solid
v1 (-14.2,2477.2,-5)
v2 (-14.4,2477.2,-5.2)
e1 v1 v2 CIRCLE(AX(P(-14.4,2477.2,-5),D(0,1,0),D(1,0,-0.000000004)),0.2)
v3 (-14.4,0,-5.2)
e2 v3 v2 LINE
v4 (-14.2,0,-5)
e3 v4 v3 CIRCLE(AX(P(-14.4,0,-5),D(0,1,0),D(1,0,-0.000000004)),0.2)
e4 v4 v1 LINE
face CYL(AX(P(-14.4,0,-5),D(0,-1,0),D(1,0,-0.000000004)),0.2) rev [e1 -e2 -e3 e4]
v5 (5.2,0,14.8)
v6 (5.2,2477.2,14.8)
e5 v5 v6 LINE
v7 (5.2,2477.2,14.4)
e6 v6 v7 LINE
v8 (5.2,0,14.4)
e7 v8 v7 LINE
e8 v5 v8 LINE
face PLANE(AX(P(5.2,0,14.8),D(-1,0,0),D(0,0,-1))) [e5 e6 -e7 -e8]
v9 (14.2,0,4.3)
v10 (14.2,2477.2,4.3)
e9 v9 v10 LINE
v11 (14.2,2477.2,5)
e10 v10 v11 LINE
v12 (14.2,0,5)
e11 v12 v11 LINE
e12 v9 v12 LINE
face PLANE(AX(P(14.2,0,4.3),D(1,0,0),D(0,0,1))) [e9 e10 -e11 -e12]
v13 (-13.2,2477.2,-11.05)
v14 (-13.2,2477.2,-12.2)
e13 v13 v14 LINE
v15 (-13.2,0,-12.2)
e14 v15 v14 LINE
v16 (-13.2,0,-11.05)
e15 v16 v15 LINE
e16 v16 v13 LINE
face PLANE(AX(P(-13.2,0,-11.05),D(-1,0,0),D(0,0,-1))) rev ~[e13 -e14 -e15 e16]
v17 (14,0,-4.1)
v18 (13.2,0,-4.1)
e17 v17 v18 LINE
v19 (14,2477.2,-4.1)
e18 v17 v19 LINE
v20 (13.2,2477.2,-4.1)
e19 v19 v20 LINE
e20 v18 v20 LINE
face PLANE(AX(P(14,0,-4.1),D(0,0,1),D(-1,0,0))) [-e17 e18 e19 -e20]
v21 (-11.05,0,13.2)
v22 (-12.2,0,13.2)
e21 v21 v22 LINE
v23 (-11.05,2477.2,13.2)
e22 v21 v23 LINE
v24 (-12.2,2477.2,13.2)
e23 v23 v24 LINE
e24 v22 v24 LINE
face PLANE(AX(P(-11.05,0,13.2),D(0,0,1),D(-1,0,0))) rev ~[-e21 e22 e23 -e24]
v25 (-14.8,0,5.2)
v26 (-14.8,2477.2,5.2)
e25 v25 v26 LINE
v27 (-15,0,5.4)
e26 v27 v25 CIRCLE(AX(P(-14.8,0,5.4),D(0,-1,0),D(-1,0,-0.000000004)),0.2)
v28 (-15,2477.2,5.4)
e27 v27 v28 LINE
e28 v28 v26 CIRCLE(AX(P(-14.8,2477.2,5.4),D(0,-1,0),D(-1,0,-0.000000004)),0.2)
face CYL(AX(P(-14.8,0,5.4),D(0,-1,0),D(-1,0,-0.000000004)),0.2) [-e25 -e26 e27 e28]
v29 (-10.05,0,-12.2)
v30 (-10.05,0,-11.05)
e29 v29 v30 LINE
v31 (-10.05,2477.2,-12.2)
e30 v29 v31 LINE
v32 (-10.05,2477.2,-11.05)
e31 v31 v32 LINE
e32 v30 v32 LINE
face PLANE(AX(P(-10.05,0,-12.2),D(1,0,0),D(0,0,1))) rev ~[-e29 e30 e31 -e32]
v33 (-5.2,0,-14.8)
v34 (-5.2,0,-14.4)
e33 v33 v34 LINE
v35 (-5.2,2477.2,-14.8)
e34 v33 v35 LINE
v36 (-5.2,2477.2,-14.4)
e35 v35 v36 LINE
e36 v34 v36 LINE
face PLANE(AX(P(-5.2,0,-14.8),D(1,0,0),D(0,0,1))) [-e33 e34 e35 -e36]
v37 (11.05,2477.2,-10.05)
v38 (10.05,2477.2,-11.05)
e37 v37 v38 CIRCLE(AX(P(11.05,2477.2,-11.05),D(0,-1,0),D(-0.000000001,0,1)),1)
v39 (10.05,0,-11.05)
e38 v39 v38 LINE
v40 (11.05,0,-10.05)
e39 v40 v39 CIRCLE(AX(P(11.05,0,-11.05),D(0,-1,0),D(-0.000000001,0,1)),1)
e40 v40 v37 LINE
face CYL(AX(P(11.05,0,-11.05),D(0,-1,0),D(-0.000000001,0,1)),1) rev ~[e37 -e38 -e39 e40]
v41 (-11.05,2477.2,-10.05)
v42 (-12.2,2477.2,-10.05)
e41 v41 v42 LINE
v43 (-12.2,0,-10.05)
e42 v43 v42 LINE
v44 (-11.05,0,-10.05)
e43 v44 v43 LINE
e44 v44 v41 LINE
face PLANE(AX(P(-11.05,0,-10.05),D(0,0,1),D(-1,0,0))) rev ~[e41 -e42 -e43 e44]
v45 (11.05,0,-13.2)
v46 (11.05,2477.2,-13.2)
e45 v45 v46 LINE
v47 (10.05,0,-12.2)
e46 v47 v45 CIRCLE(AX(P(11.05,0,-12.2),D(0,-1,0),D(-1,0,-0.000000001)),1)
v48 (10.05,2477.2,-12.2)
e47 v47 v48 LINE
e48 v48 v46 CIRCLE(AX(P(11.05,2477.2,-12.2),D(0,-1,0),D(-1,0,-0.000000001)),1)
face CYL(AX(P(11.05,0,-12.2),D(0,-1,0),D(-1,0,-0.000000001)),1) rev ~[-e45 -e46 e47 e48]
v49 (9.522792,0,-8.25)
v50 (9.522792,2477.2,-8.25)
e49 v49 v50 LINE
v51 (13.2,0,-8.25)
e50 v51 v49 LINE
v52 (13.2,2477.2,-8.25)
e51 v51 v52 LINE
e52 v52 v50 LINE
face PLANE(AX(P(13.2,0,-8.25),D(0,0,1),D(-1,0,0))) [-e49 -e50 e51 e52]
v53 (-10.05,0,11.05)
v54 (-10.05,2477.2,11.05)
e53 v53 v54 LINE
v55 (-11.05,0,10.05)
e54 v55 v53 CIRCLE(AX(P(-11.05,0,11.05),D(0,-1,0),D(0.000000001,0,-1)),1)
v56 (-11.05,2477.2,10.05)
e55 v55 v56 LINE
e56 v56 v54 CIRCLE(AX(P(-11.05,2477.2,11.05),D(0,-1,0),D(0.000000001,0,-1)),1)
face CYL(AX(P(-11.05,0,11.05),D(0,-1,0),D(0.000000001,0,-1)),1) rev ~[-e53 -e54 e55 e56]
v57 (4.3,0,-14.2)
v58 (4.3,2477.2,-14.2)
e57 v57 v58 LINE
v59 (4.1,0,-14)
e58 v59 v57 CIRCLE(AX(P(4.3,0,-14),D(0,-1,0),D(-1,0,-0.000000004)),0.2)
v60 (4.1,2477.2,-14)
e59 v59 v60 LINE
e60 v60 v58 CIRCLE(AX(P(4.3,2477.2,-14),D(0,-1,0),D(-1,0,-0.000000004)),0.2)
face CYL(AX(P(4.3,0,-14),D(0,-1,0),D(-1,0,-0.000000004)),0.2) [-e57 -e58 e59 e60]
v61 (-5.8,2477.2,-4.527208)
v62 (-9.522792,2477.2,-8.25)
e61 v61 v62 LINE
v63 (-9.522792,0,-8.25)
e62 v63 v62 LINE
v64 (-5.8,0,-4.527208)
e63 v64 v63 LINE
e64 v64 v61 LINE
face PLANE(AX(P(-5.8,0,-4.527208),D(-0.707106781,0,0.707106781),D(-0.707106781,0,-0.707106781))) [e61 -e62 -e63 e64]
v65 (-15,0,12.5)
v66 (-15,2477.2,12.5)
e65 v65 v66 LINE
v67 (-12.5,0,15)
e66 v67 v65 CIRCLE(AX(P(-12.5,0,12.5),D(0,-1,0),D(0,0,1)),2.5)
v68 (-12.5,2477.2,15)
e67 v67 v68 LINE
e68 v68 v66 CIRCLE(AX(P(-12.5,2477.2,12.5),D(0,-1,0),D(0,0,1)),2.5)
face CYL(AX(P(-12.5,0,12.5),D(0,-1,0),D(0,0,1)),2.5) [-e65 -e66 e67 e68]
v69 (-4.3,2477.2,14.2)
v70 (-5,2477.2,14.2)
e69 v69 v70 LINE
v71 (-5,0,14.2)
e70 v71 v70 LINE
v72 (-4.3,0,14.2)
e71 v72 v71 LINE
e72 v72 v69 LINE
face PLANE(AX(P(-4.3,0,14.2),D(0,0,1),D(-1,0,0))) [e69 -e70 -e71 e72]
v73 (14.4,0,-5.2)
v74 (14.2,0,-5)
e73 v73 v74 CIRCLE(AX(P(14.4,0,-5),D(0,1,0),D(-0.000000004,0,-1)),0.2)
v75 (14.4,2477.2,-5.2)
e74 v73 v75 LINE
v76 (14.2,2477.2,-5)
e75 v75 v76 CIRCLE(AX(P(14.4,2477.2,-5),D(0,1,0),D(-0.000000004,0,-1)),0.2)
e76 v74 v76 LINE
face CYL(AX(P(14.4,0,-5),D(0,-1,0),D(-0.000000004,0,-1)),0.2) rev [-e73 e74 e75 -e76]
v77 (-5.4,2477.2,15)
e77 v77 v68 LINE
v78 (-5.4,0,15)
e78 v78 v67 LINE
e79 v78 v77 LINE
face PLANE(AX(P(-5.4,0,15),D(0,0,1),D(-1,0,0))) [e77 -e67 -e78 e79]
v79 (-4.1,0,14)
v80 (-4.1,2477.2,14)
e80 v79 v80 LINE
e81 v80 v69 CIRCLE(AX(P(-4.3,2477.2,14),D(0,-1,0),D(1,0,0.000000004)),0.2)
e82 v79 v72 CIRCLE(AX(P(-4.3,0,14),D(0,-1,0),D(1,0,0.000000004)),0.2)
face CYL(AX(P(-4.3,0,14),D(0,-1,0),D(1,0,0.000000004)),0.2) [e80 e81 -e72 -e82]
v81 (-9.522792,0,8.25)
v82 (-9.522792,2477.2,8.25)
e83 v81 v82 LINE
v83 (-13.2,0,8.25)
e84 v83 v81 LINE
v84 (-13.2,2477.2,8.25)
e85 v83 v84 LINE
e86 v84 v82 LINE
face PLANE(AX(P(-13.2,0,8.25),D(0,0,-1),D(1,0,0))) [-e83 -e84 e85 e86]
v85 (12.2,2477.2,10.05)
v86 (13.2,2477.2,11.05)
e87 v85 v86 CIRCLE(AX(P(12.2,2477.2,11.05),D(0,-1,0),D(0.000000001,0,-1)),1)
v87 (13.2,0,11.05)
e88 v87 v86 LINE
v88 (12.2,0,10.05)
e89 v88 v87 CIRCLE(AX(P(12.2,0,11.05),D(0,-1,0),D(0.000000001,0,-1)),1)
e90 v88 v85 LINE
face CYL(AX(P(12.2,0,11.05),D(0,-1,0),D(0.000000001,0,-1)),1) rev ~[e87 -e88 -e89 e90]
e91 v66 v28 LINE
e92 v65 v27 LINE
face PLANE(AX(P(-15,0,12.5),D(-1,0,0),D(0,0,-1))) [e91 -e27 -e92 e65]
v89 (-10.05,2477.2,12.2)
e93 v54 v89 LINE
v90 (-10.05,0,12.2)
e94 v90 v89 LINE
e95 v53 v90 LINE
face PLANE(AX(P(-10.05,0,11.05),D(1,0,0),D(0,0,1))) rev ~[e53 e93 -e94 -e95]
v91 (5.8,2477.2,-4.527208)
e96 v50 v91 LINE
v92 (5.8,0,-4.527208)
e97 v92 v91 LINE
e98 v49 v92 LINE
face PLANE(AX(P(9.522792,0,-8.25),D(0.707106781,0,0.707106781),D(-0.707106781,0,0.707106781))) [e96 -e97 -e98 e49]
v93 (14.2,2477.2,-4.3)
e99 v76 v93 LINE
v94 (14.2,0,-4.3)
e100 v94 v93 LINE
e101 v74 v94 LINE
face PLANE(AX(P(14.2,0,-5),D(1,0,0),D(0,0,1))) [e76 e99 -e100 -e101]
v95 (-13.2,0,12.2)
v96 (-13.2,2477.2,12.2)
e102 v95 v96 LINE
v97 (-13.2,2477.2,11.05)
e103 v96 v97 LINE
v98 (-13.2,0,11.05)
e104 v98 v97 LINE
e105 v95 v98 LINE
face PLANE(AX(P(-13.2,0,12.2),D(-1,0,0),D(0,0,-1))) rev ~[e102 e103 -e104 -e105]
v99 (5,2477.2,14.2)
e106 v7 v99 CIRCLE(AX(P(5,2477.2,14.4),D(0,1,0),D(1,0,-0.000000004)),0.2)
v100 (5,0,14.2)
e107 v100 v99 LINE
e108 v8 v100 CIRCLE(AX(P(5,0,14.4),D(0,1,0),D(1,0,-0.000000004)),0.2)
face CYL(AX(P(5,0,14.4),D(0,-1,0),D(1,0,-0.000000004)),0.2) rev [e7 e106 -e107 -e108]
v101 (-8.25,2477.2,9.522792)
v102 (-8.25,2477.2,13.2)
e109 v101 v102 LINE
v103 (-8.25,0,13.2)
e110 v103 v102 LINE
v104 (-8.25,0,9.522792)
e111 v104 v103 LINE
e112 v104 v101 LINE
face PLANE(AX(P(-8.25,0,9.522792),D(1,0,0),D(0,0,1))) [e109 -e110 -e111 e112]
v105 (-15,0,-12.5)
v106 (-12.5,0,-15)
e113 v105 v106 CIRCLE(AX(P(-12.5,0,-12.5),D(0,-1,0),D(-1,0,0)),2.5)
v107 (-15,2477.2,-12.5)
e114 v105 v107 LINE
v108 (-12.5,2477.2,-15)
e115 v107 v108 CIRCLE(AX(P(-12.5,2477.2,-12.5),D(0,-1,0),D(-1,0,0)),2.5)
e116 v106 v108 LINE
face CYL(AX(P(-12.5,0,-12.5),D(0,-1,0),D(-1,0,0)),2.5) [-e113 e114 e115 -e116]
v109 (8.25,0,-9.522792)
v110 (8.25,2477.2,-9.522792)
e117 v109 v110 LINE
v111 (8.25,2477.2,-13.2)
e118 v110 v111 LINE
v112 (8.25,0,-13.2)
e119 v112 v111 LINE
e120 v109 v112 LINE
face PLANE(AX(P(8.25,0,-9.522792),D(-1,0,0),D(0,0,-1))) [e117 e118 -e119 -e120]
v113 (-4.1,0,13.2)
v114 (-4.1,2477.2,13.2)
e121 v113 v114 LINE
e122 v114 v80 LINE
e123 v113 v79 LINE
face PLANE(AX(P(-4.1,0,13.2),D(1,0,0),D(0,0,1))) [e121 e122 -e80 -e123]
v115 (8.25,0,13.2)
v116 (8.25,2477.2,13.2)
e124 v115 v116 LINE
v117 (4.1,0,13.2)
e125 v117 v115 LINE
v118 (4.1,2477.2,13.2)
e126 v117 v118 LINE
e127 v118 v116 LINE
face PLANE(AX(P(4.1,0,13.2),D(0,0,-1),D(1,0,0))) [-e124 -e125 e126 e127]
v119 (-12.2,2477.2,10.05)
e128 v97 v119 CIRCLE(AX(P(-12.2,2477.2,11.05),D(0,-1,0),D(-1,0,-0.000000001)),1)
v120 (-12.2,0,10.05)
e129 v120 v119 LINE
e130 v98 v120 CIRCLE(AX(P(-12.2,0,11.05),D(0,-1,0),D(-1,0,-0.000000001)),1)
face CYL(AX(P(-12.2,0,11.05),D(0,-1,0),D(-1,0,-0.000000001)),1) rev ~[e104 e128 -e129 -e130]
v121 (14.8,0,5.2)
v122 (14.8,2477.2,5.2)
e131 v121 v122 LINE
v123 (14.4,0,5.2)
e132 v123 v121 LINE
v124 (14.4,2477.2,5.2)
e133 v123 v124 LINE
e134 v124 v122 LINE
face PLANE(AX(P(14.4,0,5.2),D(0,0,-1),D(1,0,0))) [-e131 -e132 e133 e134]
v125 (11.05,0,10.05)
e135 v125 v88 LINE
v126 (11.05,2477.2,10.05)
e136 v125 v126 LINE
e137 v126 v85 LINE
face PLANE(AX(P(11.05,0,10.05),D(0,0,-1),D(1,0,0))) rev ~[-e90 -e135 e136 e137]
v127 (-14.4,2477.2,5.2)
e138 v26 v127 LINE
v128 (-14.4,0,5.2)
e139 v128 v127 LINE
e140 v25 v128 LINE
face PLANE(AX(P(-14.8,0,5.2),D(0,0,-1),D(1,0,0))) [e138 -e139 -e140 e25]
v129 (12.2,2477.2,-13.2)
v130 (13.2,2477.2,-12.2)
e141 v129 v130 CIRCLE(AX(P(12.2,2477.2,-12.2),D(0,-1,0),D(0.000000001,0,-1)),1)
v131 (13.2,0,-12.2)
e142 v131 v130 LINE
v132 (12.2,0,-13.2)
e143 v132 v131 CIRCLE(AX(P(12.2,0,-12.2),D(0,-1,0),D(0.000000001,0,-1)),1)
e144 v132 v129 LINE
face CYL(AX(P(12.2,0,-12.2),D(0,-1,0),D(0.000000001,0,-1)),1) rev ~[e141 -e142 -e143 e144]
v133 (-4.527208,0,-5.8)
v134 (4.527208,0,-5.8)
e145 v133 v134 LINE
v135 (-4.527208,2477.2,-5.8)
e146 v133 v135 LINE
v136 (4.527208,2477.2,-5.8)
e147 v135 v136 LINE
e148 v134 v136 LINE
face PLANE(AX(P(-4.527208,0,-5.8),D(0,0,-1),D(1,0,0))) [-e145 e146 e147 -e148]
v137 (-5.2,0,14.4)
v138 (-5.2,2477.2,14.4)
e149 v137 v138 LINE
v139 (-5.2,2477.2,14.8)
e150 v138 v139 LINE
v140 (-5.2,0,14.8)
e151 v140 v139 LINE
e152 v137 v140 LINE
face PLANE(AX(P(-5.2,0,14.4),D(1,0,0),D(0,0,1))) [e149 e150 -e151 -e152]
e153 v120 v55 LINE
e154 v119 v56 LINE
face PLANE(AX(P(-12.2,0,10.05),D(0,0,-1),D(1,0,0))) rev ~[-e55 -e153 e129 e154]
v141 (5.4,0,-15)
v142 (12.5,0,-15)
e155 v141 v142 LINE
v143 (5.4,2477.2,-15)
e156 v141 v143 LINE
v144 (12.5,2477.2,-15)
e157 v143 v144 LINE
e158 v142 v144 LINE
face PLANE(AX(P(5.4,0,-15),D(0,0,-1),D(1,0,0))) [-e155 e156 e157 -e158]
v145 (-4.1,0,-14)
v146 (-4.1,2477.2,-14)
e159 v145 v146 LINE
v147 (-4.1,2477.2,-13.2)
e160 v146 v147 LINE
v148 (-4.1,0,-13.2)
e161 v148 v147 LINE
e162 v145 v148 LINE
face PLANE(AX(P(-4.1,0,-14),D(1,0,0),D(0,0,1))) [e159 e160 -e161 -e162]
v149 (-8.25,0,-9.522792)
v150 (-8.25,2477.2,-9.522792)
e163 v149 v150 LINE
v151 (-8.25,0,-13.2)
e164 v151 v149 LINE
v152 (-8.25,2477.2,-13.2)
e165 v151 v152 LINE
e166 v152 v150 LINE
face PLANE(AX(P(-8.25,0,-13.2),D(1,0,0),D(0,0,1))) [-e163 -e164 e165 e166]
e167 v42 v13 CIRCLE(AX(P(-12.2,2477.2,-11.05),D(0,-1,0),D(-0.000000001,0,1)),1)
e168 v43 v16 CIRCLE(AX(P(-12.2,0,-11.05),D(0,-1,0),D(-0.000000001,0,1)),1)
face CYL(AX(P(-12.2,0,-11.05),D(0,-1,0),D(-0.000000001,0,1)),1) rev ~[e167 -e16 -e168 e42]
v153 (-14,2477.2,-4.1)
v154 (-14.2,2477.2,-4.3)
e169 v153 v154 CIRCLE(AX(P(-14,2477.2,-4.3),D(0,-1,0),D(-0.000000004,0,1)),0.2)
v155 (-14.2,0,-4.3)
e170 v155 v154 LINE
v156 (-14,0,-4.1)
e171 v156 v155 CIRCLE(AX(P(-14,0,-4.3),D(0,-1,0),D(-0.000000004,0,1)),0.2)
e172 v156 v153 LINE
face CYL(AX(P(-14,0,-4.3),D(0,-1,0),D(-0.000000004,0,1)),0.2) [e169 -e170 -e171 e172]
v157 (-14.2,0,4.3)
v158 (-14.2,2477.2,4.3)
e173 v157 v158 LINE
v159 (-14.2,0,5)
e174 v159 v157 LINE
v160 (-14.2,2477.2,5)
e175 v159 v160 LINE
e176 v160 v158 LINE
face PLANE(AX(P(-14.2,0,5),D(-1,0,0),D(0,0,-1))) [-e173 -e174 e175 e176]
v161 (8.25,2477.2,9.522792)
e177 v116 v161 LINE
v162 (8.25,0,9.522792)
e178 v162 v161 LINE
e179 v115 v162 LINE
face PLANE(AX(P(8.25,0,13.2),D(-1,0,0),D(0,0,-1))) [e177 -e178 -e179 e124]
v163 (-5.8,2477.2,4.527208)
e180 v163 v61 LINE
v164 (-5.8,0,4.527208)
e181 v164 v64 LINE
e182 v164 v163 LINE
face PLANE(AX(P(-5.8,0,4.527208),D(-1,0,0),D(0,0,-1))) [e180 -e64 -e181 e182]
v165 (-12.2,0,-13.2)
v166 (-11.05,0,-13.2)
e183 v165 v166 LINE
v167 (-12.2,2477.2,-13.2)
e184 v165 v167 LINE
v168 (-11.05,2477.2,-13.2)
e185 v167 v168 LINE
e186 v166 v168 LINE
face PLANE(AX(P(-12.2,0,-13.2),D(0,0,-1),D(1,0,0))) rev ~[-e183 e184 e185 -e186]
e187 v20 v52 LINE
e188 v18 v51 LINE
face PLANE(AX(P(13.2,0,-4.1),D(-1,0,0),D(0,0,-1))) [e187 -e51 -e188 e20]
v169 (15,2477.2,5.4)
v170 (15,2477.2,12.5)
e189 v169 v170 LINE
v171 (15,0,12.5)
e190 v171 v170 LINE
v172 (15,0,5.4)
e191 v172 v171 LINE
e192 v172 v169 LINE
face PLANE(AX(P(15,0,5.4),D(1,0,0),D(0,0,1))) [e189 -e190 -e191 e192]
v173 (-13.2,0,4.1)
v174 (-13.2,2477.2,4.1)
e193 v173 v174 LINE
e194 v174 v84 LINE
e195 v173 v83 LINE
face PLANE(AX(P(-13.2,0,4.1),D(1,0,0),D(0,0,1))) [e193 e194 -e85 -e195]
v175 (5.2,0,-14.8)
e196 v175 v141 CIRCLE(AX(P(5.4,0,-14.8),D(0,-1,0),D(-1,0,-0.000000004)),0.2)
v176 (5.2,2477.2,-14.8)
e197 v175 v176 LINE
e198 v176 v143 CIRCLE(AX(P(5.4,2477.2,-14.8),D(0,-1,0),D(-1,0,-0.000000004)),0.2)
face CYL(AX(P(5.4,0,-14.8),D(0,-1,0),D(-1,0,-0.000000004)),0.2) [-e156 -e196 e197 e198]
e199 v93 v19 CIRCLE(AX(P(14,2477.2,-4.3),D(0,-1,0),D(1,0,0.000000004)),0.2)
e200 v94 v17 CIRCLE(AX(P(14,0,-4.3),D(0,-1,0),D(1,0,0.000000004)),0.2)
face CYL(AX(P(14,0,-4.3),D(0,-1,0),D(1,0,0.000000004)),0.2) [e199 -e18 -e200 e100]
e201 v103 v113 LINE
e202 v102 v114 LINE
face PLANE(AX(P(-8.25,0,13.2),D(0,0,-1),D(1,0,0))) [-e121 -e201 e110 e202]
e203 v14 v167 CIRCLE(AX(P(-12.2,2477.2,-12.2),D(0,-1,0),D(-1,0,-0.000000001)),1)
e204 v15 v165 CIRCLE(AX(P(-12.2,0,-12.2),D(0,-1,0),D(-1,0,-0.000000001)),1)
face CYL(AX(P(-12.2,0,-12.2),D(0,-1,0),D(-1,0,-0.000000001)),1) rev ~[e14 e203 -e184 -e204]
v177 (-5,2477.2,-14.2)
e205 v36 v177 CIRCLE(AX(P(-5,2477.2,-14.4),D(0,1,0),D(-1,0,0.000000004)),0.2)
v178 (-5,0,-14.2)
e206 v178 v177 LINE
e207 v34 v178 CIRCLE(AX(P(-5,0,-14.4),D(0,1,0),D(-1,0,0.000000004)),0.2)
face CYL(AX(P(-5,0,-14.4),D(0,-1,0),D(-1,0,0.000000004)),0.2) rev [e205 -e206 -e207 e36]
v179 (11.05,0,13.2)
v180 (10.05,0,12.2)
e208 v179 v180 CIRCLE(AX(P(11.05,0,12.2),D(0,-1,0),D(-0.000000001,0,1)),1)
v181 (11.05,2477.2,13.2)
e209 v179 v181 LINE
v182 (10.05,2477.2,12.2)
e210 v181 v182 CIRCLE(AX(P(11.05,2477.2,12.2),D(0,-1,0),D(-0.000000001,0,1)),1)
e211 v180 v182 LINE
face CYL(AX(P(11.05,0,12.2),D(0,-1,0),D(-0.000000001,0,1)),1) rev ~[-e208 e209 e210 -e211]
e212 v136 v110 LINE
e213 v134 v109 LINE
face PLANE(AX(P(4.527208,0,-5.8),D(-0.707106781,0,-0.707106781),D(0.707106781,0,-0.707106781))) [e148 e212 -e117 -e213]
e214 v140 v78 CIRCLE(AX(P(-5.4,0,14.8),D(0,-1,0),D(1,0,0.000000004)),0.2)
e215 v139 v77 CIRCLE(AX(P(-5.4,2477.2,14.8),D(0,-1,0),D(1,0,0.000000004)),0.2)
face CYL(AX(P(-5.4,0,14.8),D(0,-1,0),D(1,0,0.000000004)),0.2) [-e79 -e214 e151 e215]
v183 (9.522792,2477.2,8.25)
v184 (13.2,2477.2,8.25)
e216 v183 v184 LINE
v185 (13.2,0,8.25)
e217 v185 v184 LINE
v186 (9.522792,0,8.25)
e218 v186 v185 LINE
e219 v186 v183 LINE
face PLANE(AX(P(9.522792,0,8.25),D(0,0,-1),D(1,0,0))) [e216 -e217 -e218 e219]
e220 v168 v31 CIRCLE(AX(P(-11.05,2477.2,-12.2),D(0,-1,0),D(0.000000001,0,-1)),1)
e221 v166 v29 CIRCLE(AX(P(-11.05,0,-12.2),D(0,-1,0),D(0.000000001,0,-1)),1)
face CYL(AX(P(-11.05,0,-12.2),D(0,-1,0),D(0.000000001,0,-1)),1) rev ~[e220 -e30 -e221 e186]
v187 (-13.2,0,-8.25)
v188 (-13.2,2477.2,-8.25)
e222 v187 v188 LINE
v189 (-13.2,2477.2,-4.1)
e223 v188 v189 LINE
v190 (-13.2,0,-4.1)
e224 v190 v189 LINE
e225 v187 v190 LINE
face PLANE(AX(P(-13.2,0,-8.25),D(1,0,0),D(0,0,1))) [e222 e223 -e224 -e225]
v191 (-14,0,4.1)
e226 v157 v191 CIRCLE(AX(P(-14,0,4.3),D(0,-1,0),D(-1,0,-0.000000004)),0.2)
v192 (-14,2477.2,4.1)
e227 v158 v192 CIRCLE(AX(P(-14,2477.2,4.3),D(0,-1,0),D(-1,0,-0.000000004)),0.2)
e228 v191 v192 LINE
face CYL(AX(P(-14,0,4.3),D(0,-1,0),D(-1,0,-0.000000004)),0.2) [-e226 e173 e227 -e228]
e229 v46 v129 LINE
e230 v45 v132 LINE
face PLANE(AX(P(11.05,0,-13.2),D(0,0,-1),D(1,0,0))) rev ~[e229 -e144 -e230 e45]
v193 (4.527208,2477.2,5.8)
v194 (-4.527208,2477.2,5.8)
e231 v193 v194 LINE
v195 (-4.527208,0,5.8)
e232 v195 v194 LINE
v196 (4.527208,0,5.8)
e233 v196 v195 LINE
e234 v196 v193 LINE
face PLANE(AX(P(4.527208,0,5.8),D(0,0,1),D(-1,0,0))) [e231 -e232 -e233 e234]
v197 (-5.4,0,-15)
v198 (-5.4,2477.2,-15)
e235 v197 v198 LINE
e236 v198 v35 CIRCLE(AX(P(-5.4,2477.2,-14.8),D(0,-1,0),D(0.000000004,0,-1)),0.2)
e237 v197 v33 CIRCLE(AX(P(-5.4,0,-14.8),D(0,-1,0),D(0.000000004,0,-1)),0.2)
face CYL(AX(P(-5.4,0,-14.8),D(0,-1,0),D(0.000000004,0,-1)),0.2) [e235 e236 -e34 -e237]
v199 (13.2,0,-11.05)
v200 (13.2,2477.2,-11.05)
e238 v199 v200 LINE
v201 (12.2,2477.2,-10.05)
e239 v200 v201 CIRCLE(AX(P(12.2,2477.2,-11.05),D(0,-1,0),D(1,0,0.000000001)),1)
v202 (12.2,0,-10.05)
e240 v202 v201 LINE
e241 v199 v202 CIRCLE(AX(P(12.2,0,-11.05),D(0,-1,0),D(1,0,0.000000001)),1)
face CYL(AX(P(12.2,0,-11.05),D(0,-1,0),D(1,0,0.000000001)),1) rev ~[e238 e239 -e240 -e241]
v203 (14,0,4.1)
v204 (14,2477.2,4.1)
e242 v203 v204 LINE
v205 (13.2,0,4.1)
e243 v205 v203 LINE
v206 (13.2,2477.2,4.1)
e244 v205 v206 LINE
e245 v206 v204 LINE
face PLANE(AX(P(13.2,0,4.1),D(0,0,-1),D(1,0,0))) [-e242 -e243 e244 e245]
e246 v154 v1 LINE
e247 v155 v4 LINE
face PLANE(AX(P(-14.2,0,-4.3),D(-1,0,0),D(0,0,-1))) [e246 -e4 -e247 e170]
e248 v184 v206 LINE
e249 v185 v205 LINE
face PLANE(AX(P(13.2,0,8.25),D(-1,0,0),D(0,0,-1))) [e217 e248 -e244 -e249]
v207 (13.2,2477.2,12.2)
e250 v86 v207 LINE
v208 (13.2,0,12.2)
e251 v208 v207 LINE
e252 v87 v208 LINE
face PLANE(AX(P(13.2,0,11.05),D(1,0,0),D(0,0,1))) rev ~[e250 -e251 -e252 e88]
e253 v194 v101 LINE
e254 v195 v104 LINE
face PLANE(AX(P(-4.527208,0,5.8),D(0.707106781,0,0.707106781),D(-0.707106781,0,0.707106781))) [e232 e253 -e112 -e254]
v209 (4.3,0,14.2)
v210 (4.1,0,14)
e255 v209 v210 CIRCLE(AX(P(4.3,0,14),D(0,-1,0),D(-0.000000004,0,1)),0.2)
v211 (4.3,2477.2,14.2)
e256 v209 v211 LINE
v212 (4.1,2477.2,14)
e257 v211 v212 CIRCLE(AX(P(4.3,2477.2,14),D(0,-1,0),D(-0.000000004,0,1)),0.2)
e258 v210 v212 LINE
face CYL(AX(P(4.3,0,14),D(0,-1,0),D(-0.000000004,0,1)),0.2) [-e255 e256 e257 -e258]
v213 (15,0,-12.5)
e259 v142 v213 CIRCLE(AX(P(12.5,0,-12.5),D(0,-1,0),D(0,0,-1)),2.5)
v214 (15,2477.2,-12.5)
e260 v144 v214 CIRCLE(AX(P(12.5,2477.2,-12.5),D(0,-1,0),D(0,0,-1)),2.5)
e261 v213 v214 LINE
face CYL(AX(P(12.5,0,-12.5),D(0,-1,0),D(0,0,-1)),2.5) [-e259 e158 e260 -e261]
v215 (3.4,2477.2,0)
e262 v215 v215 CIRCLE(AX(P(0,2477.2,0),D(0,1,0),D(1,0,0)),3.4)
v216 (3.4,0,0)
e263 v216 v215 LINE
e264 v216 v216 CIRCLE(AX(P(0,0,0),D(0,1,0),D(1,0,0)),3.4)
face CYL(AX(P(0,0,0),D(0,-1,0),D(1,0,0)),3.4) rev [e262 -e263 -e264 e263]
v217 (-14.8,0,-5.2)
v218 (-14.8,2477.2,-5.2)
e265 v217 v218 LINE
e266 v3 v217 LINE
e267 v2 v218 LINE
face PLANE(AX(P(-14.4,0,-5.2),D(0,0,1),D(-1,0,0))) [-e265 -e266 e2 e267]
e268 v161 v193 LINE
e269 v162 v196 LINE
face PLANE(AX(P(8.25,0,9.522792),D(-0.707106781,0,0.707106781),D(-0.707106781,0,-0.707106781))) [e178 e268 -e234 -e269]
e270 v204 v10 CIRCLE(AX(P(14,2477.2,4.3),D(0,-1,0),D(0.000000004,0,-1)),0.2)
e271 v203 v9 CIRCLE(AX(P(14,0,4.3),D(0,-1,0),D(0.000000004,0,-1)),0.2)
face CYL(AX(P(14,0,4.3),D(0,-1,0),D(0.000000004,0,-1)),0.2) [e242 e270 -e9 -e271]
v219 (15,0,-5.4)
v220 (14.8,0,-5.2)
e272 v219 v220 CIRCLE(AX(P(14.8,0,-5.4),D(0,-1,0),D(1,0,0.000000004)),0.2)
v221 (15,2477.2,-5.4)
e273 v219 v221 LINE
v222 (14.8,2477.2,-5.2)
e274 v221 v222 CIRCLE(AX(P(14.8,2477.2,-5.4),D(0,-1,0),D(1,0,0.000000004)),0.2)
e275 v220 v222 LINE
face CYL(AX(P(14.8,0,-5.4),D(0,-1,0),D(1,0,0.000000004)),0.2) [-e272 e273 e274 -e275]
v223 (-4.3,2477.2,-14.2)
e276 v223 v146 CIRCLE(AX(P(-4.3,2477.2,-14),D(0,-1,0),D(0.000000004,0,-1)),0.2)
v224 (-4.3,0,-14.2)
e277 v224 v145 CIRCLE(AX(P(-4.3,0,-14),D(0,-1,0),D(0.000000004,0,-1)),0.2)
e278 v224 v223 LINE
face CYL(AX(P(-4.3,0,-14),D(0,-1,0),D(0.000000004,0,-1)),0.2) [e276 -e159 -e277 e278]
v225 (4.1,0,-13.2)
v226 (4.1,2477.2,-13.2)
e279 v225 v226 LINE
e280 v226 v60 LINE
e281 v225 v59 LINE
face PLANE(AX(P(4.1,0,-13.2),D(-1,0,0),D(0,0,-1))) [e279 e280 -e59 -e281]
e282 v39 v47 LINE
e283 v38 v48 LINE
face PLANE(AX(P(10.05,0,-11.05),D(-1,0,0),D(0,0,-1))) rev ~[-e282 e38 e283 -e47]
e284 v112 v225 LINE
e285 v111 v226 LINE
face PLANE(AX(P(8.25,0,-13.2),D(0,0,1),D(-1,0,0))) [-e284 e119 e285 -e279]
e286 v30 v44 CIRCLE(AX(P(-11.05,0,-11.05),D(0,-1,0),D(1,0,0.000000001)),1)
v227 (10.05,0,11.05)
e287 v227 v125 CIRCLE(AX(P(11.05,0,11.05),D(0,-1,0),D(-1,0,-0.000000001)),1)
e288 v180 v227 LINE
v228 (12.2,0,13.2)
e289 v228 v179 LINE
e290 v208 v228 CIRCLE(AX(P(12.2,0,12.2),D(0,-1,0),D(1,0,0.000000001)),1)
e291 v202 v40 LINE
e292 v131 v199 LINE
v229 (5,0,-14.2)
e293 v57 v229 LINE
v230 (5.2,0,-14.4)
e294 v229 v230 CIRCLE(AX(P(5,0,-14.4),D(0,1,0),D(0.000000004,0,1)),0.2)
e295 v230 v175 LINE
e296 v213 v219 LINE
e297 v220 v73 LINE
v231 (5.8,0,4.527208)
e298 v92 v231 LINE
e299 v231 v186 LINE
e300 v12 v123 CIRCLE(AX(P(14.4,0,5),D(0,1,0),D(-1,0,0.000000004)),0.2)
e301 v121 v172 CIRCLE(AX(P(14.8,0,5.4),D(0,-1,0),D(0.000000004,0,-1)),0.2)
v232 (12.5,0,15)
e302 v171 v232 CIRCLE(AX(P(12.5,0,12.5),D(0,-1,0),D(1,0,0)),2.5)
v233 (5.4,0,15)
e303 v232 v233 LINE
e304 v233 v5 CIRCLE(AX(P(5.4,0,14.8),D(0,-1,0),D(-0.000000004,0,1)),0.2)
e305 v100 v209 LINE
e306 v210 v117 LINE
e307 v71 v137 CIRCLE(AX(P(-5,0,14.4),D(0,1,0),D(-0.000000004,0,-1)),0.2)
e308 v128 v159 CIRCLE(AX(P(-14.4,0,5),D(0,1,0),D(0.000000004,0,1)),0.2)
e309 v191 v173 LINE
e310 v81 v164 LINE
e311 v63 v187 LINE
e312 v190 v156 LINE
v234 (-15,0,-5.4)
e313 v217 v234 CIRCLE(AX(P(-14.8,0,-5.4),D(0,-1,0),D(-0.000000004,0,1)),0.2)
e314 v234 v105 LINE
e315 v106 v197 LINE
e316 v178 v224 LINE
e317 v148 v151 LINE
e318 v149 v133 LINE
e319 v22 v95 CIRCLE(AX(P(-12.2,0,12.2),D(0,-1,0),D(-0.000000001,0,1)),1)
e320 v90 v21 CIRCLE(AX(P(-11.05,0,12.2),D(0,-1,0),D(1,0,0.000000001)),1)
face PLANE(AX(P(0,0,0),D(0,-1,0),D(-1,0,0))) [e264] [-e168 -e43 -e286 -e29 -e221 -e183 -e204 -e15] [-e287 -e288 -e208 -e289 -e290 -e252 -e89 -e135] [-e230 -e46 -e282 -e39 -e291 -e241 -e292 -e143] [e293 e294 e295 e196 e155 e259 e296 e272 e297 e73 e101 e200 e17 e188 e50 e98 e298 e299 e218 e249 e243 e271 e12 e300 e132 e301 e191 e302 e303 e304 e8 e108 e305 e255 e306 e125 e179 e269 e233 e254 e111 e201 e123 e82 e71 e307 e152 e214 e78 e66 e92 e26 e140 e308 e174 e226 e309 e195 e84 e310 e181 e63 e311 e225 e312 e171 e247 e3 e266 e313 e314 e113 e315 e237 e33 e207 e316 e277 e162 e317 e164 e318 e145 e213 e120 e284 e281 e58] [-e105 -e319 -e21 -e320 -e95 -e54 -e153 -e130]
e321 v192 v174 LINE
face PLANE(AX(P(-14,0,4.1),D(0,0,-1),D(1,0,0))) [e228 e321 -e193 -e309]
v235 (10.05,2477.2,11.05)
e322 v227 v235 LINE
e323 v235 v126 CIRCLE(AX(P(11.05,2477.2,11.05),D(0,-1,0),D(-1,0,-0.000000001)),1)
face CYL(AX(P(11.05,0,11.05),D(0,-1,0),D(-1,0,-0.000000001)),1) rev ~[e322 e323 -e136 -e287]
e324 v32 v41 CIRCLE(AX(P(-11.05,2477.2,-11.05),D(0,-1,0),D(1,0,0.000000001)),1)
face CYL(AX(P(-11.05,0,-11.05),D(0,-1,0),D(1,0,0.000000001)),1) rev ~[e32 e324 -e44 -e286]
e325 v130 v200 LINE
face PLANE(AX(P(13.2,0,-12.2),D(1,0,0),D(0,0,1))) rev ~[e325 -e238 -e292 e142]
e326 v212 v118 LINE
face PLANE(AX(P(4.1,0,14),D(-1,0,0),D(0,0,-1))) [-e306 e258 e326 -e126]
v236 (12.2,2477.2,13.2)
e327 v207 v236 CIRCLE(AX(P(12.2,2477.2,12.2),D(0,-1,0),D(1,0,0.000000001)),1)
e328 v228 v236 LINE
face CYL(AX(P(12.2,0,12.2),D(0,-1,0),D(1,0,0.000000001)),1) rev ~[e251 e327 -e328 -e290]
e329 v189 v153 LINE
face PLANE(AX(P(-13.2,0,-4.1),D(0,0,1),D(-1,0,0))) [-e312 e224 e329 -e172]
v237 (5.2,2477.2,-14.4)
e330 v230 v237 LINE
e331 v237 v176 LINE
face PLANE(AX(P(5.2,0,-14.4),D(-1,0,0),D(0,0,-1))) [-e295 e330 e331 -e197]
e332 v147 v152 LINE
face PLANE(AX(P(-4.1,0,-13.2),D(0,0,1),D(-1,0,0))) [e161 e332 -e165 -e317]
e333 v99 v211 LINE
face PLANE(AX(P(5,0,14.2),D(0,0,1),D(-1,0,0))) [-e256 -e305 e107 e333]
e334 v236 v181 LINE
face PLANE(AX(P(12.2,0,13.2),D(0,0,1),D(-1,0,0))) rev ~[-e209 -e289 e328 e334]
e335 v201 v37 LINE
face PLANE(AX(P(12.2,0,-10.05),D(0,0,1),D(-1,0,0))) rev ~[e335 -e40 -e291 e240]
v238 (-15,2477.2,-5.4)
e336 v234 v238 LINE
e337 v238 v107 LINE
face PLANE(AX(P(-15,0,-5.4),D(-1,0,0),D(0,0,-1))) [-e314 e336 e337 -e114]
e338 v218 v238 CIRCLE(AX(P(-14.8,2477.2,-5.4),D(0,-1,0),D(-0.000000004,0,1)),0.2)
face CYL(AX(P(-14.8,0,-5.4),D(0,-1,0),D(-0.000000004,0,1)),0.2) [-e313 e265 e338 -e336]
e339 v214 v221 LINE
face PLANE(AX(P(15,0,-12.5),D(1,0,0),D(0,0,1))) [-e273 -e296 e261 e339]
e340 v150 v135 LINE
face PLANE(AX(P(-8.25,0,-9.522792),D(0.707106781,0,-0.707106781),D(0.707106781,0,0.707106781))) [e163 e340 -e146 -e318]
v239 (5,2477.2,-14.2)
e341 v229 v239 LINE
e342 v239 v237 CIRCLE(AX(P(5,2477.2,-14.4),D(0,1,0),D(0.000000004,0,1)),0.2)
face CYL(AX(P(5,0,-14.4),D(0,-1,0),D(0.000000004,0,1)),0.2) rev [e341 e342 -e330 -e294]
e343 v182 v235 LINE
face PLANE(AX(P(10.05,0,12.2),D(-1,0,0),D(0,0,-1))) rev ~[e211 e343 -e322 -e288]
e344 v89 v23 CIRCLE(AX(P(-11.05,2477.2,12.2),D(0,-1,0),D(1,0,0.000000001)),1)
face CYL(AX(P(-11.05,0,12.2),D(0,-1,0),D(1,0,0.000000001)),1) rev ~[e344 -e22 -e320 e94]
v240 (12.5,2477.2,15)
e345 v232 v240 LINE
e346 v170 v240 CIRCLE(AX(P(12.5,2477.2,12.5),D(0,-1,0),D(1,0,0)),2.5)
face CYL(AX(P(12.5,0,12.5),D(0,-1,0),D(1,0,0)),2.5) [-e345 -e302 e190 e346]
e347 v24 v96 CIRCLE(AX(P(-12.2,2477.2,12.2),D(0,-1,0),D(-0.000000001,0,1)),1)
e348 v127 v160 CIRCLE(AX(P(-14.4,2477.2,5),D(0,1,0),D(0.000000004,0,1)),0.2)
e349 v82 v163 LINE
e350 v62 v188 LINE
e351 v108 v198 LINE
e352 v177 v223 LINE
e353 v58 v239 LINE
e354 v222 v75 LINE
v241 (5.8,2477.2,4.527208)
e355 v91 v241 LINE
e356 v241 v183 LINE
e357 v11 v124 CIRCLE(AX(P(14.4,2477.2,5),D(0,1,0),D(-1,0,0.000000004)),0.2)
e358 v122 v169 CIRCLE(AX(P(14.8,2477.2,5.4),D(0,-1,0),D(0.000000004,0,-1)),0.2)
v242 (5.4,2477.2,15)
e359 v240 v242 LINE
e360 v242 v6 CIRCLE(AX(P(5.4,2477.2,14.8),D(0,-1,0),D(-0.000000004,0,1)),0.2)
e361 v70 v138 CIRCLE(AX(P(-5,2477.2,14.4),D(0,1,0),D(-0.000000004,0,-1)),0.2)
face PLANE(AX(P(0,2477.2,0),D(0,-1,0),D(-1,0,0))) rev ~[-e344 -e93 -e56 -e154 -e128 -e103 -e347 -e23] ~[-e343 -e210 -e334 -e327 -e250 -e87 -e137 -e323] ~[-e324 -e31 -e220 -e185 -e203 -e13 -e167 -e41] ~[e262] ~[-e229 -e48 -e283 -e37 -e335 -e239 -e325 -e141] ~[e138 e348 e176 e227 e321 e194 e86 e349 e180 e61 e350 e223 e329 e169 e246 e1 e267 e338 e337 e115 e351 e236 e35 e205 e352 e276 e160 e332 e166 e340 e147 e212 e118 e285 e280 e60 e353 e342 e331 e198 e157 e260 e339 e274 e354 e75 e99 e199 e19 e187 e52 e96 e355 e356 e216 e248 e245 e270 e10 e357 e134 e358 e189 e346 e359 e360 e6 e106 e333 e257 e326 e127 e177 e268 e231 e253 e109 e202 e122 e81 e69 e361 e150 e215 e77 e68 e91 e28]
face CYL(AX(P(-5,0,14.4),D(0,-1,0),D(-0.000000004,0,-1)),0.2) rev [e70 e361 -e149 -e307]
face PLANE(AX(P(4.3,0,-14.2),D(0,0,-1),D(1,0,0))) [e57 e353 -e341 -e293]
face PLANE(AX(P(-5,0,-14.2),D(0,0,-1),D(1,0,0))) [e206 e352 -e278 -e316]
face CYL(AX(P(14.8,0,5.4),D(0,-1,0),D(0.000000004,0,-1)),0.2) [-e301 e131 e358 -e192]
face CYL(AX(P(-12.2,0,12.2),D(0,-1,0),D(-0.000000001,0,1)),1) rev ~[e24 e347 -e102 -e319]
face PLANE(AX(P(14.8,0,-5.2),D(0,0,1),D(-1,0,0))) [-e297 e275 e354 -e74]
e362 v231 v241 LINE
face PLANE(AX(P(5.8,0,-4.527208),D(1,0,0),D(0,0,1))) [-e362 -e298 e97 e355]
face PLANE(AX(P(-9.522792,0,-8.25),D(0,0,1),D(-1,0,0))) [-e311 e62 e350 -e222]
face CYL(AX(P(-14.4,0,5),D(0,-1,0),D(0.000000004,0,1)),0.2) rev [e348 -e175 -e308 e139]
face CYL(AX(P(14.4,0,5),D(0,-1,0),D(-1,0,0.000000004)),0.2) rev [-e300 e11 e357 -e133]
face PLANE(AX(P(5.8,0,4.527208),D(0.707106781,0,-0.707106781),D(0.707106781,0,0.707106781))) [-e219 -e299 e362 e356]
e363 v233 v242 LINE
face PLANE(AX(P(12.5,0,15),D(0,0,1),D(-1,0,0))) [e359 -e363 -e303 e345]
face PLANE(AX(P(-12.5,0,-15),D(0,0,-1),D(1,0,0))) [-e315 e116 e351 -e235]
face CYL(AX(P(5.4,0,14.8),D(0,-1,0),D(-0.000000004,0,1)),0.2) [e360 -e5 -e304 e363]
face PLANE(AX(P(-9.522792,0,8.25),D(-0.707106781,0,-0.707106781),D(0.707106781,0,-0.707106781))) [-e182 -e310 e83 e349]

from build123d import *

# Parameters (mm, degrees)
SKETCH_3_R      = 3.4
EXTRUDE_1_DEPTH = 2477.2


with BuildPart() as part:
    # 草图3 → 凸台-拉伸1 (new body)
    with BuildSketch(Plane(origin=(0, 0, 0), x_dir=(1, 0, 0), z_dir=(0, 1, 0))):
        with BuildLine():
            Line((-15, -12.5), (-15, -5.4))
            ThreePointArc((-15, -5.4), (-14.941421356, -5.258578644), (-14.8, -5.2))
            Line((-14.8, -5.2), (-14.4, -5.2))
            ThreePointArc((-14.4, -5.2), (-14.258578644, -5.141421356), (-14.2, -5))
            Line((-14.2, -5), (-14.2, -4.3))
            ThreePointArc((-14.2, -4.3), (-14.141421356, -4.158578644), (-14, -4.1))
            Line((-14, -4.1), (-13.2, -4.1))
            Line((-13.2, -4.1), (-13.2, -8.25))
            Line((-13.2, -8.25), (-9.522792206, -8.25))
            Line((-9.522792206, -8.25), (-5.8, -4.527207794))
            Line((-5.8, -4.527207794), (-5.8, 4.527207794))
            Line((-5.8, 4.527207794), (-9.522792206, 8.25))
            Line((-9.522792206, 8.25), (-13.2, 8.25))
            Line((-13.2, 8.25), (-13.2, 4.1))
            Line((-13.2, 4.1), (-14, 4.1))
            ThreePointArc((-14, 4.1), (-14.141421356, 4.158578644), (-14.2, 4.3))
            Line((-14.2, 4.3), (-14.2, 5))
            ThreePointArc((-14.2, 5), (-14.258578644, 5.141421356), (-14.4, 5.2))
            Line((-14.4, 5.2), (-14.8, 5.2))
            ThreePointArc((-14.8, 5.2), (-14.941421356, 5.258578644), (-15, 5.4))
            Line((-15, 5.4), (-15, 12.5))
            ThreePointArc((-15, 12.5), (-14.267766953, 14.267766953), (-12.5, 15))
            Line((-12.5, 15), (-5.4, 15))
            ThreePointArc((-5.4, 15), (-5.258578644, 14.941421356), (-5.2, 14.8))
            Line((-5.2, 14.8), (-5.2, 14.4))
            ThreePointArc((-5.2, 14.4), (-5.141421356, 14.258578644), (-5, 14.2))
            Line((-5, 14.2), (-4.3, 14.2))
            ThreePointArc((-4.3, 14.2), (-4.158578644, 14.141421356), (-4.1, 14))
            Line((-4.1, 14), (-4.1, 13.2))
            Line((-4.1, 13.2), (-8.25, 13.2))
            Line((-8.25, 13.2), (-8.25, 9.522792206))
            Line((-8.25, 9.522792206), (-4.527207794, 5.8))
            Line((-4.527207794, 5.8), (4.527207794, 5.8))
            Line((4.527207794, 5.8), (8.25, 9.522792206))
            Line((8.25, 9.522792206), (8.25, 13.2))
            Line((8.25, 13.2), (4.1, 13.2))
            Line((4.1, 13.2), (4.1, 14))
            ThreePointArc((4.1, 14), (4.158578644, 14.141421356), (4.3, 14.2))
            Line((4.3, 14.2), (5, 14.2))
            ThreePointArc((5, 14.2), (5.141421356, 14.258578644), (5.2, 14.4))
            Line((5.2, 14.4), (5.2, 14.8))
            ThreePointArc((5.2, 14.8), (5.258578644, 14.941421356), (5.4, 15))
            Line((5.4, 15), (12.5, 15))
            ThreePointArc((12.5, 15), (14.267766953, 14.267766953), (15, 12.5))
            Line((15, 12.5), (15, 5.4))
            ThreePointArc((15, 5.4), (14.941421356, 5.258578644), (14.8, 5.2))
            Line((14.8, 5.2), (14.4, 5.2))
            ThreePointArc((14.4, 5.2), (14.258578644, 5.141421356), (14.2, 5))
            Line((14.2, 5), (14.2, 4.3))
            ThreePointArc((14.2, 4.3), (14.141421356, 4.158578644), (14, 4.1))
            Line((14, 4.1), (13.2, 4.1))
            Line((13.2, 4.1), (13.2, 8.25))
            Line((13.2, 8.25), (9.522792206, 8.25))
            Line((9.522792206, 8.25), (5.8, 4.527207794))
            Line((5.8, 4.527207794), (5.8, -4.527207794))
            Line((5.8, -4.527207794), (9.522792206, -8.25))
            Line((9.522792206, -8.25), (13.2, -8.25))
            Line((13.2, -8.25), (13.2, -4.1))
            Line((13.2, -4.1), (14, -4.1))
            ThreePointArc((14, -4.1), (14.141421356, -4.158578644), (14.2, -4.3))
            Line((14.2, -4.3), (14.2, -5))
            ThreePointArc((14.2, -5), (14.258578644, -5.141421356), (14.4, -5.2))
            Line((14.4, -5.2), (14.8, -5.2))
            ThreePointArc((14.8, -5.2), (14.941421356, -5.258578644), (15, -5.4))
            Line((15, -5.4), (15, -12.5))
            ThreePointArc((15, -12.5), (14.267766953, -14.267766953), (12.5, -15))
            Line((12.5, -15), (5.4, -15))
            ThreePointArc((5.4, -15), (5.258578644, -14.941421356), (5.2, -14.8))
            Line((5.2, -14.8), (5.2, -14.4))
            ThreePointArc((5.2, -14.4), (5.141421356, -14.258578644), (5, -14.2))
            Line((5, -14.2), (4.3, -14.2))
            ThreePointArc((4.3, -14.2), (4.158578644, -14.141421356), (4.1, -14))
            Line((4.1, -14), (4.1, -13.2))
            Line((4.1, -13.2), (8.25, -13.2))
            Line((8.25, -13.2), (8.25, -9.522792206))
            Line((8.25, -9.522792206), (4.527207794, -5.8))
            Line((4.527207794, -5.8), (-4.527207794, -5.8))
            Line((-4.527207794, -5.8), (-8.25, -9.522792206))
            Line((-8.25, -9.522792206), (-8.25, -13.2))
            Line((-8.25, -13.2), (-4.1, -13.2))
            Line((-4.1, -13.2), (-4.1, -14))
            ThreePointArc((-4.1, -14), (-4.158578644, -14.141421356), (-4.3, -14.2))
            Line((-4.3, -14.2), (-5, -14.2))
            ThreePointArc((-5, -14.2), (-5.141421356, -14.258578644), (-5.2, -14.4))
            Line((-5.2, -14.4), (-5.2, -14.8))
            ThreePointArc((-5.2, -14.8), (-5.258578644, -14.941421356), (-5.4, -15))
            Line((-5.4, -15), (-12.5, -15))
            ThreePointArc((-12.5, -15), (-14.267766953, -14.267766953), (-15, -12.5))
        make_face()
        Circle(SKETCH_3_R, mode=Mode.SUBTRACT)
        with BuildLine():
            Line((-13.2, -12.2), (-13.2, -11.05))
            ThreePointArc((-13.2, -11.05), (-12.907106781, -10.342893219), (-12.2, -10.05))
            Line((-12.2, -10.05), (-11.05, -10.05))
            ThreePointArc((-11.05, -10.05), (-10.342893219, -10.342893219), (-10.05, -11.05))
            Line((-10.05, -11.05), (-10.05, -12.2))
            ThreePointArc((-10.05, -12.2), (-10.342893219, -12.907106781), (-11.05, -13.2))
            Line((-11.05, -13.2), (-12.2, -13.2))
            ThreePointArc((-12.2, -13.2), (-12.907106781, -12.907106781), (-13.2, -12.2))
        make_face(mode=Mode.SUBTRACT)
        with BuildLine():
            Line((-10.05, 12.2), (-10.05, 11.05))
            ThreePointArc((-10.05, 11.05), (-10.342893219, 10.342893219), (-11.05, 10.05))
            Line((-11.05, 10.05), (-12.2, 10.05))
            ThreePointArc((-12.2, 10.05), (-12.907106781, 10.342893219), (-13.2, 11.05))
            Line((-13.2, 11.05), (-13.2, 12.2))
            ThreePointArc((-13.2, 12.2), (-12.907106781, 12.907106781), (-12.2, 13.2))
            Line((-12.2, 13.2), (-11.05, 13.2))
            ThreePointArc((-11.05, 13.2), (-10.342893219, 12.907106781), (-10.05, 12.2))
        make_face(mode=Mode.SUBTRACT)
        with BuildLine():
            Line((13.2, 12.2), (13.2, 11.05))
            ThreePointArc((13.2, 11.05), (12.907106781, 10.342893219), (12.2, 10.05))
            Line((12.2, 10.05), (11.05, 10.05))
            ThreePointArc((11.05, 10.05), (10.342893219, 10.342893219), (10.05, 11.05))
            Line((10.05, 11.05), (10.05, 12.2))
            ThreePointArc((10.05, 12.2), (10.342893219, 12.907106781), (11.05, 13.2))
            Line((11.05, 13.2), (12.2, 13.2))
            ThreePointArc((12.2, 13.2), (12.907106781, 12.907106781), (13.2, 12.2))
        make_face(mode=Mode.SUBTRACT)
        with BuildLine():
            Line((10.05, -12.2), (10.05, -11.05))
            ThreePointArc((10.05, -11.05), (10.342893219, -10.342893219), (11.05, -10.05))
            Line((11.05, -10.05), (12.2, -10.05))
            ThreePointArc((12.2, -10.05), (12.907106781, -10.342893219), (13.2, -11.05))
            Line((13.2, -11.05), (13.2, -12.2))
            ThreePointArc((13.2, -12.2), (12.907106781, -12.907106781), (12.2, -13.2))
            Line((12.2, -13.2), (11.05, -13.2))
            ThreePointArc((11.05, -13.2), (10.342893219, -12.907106781), (10.05, -12.2))
        make_face(mode=Mode.SUBTRACT)
    extrude(amount=EXTRUDE_1_DEPTH)


solid = part.part
